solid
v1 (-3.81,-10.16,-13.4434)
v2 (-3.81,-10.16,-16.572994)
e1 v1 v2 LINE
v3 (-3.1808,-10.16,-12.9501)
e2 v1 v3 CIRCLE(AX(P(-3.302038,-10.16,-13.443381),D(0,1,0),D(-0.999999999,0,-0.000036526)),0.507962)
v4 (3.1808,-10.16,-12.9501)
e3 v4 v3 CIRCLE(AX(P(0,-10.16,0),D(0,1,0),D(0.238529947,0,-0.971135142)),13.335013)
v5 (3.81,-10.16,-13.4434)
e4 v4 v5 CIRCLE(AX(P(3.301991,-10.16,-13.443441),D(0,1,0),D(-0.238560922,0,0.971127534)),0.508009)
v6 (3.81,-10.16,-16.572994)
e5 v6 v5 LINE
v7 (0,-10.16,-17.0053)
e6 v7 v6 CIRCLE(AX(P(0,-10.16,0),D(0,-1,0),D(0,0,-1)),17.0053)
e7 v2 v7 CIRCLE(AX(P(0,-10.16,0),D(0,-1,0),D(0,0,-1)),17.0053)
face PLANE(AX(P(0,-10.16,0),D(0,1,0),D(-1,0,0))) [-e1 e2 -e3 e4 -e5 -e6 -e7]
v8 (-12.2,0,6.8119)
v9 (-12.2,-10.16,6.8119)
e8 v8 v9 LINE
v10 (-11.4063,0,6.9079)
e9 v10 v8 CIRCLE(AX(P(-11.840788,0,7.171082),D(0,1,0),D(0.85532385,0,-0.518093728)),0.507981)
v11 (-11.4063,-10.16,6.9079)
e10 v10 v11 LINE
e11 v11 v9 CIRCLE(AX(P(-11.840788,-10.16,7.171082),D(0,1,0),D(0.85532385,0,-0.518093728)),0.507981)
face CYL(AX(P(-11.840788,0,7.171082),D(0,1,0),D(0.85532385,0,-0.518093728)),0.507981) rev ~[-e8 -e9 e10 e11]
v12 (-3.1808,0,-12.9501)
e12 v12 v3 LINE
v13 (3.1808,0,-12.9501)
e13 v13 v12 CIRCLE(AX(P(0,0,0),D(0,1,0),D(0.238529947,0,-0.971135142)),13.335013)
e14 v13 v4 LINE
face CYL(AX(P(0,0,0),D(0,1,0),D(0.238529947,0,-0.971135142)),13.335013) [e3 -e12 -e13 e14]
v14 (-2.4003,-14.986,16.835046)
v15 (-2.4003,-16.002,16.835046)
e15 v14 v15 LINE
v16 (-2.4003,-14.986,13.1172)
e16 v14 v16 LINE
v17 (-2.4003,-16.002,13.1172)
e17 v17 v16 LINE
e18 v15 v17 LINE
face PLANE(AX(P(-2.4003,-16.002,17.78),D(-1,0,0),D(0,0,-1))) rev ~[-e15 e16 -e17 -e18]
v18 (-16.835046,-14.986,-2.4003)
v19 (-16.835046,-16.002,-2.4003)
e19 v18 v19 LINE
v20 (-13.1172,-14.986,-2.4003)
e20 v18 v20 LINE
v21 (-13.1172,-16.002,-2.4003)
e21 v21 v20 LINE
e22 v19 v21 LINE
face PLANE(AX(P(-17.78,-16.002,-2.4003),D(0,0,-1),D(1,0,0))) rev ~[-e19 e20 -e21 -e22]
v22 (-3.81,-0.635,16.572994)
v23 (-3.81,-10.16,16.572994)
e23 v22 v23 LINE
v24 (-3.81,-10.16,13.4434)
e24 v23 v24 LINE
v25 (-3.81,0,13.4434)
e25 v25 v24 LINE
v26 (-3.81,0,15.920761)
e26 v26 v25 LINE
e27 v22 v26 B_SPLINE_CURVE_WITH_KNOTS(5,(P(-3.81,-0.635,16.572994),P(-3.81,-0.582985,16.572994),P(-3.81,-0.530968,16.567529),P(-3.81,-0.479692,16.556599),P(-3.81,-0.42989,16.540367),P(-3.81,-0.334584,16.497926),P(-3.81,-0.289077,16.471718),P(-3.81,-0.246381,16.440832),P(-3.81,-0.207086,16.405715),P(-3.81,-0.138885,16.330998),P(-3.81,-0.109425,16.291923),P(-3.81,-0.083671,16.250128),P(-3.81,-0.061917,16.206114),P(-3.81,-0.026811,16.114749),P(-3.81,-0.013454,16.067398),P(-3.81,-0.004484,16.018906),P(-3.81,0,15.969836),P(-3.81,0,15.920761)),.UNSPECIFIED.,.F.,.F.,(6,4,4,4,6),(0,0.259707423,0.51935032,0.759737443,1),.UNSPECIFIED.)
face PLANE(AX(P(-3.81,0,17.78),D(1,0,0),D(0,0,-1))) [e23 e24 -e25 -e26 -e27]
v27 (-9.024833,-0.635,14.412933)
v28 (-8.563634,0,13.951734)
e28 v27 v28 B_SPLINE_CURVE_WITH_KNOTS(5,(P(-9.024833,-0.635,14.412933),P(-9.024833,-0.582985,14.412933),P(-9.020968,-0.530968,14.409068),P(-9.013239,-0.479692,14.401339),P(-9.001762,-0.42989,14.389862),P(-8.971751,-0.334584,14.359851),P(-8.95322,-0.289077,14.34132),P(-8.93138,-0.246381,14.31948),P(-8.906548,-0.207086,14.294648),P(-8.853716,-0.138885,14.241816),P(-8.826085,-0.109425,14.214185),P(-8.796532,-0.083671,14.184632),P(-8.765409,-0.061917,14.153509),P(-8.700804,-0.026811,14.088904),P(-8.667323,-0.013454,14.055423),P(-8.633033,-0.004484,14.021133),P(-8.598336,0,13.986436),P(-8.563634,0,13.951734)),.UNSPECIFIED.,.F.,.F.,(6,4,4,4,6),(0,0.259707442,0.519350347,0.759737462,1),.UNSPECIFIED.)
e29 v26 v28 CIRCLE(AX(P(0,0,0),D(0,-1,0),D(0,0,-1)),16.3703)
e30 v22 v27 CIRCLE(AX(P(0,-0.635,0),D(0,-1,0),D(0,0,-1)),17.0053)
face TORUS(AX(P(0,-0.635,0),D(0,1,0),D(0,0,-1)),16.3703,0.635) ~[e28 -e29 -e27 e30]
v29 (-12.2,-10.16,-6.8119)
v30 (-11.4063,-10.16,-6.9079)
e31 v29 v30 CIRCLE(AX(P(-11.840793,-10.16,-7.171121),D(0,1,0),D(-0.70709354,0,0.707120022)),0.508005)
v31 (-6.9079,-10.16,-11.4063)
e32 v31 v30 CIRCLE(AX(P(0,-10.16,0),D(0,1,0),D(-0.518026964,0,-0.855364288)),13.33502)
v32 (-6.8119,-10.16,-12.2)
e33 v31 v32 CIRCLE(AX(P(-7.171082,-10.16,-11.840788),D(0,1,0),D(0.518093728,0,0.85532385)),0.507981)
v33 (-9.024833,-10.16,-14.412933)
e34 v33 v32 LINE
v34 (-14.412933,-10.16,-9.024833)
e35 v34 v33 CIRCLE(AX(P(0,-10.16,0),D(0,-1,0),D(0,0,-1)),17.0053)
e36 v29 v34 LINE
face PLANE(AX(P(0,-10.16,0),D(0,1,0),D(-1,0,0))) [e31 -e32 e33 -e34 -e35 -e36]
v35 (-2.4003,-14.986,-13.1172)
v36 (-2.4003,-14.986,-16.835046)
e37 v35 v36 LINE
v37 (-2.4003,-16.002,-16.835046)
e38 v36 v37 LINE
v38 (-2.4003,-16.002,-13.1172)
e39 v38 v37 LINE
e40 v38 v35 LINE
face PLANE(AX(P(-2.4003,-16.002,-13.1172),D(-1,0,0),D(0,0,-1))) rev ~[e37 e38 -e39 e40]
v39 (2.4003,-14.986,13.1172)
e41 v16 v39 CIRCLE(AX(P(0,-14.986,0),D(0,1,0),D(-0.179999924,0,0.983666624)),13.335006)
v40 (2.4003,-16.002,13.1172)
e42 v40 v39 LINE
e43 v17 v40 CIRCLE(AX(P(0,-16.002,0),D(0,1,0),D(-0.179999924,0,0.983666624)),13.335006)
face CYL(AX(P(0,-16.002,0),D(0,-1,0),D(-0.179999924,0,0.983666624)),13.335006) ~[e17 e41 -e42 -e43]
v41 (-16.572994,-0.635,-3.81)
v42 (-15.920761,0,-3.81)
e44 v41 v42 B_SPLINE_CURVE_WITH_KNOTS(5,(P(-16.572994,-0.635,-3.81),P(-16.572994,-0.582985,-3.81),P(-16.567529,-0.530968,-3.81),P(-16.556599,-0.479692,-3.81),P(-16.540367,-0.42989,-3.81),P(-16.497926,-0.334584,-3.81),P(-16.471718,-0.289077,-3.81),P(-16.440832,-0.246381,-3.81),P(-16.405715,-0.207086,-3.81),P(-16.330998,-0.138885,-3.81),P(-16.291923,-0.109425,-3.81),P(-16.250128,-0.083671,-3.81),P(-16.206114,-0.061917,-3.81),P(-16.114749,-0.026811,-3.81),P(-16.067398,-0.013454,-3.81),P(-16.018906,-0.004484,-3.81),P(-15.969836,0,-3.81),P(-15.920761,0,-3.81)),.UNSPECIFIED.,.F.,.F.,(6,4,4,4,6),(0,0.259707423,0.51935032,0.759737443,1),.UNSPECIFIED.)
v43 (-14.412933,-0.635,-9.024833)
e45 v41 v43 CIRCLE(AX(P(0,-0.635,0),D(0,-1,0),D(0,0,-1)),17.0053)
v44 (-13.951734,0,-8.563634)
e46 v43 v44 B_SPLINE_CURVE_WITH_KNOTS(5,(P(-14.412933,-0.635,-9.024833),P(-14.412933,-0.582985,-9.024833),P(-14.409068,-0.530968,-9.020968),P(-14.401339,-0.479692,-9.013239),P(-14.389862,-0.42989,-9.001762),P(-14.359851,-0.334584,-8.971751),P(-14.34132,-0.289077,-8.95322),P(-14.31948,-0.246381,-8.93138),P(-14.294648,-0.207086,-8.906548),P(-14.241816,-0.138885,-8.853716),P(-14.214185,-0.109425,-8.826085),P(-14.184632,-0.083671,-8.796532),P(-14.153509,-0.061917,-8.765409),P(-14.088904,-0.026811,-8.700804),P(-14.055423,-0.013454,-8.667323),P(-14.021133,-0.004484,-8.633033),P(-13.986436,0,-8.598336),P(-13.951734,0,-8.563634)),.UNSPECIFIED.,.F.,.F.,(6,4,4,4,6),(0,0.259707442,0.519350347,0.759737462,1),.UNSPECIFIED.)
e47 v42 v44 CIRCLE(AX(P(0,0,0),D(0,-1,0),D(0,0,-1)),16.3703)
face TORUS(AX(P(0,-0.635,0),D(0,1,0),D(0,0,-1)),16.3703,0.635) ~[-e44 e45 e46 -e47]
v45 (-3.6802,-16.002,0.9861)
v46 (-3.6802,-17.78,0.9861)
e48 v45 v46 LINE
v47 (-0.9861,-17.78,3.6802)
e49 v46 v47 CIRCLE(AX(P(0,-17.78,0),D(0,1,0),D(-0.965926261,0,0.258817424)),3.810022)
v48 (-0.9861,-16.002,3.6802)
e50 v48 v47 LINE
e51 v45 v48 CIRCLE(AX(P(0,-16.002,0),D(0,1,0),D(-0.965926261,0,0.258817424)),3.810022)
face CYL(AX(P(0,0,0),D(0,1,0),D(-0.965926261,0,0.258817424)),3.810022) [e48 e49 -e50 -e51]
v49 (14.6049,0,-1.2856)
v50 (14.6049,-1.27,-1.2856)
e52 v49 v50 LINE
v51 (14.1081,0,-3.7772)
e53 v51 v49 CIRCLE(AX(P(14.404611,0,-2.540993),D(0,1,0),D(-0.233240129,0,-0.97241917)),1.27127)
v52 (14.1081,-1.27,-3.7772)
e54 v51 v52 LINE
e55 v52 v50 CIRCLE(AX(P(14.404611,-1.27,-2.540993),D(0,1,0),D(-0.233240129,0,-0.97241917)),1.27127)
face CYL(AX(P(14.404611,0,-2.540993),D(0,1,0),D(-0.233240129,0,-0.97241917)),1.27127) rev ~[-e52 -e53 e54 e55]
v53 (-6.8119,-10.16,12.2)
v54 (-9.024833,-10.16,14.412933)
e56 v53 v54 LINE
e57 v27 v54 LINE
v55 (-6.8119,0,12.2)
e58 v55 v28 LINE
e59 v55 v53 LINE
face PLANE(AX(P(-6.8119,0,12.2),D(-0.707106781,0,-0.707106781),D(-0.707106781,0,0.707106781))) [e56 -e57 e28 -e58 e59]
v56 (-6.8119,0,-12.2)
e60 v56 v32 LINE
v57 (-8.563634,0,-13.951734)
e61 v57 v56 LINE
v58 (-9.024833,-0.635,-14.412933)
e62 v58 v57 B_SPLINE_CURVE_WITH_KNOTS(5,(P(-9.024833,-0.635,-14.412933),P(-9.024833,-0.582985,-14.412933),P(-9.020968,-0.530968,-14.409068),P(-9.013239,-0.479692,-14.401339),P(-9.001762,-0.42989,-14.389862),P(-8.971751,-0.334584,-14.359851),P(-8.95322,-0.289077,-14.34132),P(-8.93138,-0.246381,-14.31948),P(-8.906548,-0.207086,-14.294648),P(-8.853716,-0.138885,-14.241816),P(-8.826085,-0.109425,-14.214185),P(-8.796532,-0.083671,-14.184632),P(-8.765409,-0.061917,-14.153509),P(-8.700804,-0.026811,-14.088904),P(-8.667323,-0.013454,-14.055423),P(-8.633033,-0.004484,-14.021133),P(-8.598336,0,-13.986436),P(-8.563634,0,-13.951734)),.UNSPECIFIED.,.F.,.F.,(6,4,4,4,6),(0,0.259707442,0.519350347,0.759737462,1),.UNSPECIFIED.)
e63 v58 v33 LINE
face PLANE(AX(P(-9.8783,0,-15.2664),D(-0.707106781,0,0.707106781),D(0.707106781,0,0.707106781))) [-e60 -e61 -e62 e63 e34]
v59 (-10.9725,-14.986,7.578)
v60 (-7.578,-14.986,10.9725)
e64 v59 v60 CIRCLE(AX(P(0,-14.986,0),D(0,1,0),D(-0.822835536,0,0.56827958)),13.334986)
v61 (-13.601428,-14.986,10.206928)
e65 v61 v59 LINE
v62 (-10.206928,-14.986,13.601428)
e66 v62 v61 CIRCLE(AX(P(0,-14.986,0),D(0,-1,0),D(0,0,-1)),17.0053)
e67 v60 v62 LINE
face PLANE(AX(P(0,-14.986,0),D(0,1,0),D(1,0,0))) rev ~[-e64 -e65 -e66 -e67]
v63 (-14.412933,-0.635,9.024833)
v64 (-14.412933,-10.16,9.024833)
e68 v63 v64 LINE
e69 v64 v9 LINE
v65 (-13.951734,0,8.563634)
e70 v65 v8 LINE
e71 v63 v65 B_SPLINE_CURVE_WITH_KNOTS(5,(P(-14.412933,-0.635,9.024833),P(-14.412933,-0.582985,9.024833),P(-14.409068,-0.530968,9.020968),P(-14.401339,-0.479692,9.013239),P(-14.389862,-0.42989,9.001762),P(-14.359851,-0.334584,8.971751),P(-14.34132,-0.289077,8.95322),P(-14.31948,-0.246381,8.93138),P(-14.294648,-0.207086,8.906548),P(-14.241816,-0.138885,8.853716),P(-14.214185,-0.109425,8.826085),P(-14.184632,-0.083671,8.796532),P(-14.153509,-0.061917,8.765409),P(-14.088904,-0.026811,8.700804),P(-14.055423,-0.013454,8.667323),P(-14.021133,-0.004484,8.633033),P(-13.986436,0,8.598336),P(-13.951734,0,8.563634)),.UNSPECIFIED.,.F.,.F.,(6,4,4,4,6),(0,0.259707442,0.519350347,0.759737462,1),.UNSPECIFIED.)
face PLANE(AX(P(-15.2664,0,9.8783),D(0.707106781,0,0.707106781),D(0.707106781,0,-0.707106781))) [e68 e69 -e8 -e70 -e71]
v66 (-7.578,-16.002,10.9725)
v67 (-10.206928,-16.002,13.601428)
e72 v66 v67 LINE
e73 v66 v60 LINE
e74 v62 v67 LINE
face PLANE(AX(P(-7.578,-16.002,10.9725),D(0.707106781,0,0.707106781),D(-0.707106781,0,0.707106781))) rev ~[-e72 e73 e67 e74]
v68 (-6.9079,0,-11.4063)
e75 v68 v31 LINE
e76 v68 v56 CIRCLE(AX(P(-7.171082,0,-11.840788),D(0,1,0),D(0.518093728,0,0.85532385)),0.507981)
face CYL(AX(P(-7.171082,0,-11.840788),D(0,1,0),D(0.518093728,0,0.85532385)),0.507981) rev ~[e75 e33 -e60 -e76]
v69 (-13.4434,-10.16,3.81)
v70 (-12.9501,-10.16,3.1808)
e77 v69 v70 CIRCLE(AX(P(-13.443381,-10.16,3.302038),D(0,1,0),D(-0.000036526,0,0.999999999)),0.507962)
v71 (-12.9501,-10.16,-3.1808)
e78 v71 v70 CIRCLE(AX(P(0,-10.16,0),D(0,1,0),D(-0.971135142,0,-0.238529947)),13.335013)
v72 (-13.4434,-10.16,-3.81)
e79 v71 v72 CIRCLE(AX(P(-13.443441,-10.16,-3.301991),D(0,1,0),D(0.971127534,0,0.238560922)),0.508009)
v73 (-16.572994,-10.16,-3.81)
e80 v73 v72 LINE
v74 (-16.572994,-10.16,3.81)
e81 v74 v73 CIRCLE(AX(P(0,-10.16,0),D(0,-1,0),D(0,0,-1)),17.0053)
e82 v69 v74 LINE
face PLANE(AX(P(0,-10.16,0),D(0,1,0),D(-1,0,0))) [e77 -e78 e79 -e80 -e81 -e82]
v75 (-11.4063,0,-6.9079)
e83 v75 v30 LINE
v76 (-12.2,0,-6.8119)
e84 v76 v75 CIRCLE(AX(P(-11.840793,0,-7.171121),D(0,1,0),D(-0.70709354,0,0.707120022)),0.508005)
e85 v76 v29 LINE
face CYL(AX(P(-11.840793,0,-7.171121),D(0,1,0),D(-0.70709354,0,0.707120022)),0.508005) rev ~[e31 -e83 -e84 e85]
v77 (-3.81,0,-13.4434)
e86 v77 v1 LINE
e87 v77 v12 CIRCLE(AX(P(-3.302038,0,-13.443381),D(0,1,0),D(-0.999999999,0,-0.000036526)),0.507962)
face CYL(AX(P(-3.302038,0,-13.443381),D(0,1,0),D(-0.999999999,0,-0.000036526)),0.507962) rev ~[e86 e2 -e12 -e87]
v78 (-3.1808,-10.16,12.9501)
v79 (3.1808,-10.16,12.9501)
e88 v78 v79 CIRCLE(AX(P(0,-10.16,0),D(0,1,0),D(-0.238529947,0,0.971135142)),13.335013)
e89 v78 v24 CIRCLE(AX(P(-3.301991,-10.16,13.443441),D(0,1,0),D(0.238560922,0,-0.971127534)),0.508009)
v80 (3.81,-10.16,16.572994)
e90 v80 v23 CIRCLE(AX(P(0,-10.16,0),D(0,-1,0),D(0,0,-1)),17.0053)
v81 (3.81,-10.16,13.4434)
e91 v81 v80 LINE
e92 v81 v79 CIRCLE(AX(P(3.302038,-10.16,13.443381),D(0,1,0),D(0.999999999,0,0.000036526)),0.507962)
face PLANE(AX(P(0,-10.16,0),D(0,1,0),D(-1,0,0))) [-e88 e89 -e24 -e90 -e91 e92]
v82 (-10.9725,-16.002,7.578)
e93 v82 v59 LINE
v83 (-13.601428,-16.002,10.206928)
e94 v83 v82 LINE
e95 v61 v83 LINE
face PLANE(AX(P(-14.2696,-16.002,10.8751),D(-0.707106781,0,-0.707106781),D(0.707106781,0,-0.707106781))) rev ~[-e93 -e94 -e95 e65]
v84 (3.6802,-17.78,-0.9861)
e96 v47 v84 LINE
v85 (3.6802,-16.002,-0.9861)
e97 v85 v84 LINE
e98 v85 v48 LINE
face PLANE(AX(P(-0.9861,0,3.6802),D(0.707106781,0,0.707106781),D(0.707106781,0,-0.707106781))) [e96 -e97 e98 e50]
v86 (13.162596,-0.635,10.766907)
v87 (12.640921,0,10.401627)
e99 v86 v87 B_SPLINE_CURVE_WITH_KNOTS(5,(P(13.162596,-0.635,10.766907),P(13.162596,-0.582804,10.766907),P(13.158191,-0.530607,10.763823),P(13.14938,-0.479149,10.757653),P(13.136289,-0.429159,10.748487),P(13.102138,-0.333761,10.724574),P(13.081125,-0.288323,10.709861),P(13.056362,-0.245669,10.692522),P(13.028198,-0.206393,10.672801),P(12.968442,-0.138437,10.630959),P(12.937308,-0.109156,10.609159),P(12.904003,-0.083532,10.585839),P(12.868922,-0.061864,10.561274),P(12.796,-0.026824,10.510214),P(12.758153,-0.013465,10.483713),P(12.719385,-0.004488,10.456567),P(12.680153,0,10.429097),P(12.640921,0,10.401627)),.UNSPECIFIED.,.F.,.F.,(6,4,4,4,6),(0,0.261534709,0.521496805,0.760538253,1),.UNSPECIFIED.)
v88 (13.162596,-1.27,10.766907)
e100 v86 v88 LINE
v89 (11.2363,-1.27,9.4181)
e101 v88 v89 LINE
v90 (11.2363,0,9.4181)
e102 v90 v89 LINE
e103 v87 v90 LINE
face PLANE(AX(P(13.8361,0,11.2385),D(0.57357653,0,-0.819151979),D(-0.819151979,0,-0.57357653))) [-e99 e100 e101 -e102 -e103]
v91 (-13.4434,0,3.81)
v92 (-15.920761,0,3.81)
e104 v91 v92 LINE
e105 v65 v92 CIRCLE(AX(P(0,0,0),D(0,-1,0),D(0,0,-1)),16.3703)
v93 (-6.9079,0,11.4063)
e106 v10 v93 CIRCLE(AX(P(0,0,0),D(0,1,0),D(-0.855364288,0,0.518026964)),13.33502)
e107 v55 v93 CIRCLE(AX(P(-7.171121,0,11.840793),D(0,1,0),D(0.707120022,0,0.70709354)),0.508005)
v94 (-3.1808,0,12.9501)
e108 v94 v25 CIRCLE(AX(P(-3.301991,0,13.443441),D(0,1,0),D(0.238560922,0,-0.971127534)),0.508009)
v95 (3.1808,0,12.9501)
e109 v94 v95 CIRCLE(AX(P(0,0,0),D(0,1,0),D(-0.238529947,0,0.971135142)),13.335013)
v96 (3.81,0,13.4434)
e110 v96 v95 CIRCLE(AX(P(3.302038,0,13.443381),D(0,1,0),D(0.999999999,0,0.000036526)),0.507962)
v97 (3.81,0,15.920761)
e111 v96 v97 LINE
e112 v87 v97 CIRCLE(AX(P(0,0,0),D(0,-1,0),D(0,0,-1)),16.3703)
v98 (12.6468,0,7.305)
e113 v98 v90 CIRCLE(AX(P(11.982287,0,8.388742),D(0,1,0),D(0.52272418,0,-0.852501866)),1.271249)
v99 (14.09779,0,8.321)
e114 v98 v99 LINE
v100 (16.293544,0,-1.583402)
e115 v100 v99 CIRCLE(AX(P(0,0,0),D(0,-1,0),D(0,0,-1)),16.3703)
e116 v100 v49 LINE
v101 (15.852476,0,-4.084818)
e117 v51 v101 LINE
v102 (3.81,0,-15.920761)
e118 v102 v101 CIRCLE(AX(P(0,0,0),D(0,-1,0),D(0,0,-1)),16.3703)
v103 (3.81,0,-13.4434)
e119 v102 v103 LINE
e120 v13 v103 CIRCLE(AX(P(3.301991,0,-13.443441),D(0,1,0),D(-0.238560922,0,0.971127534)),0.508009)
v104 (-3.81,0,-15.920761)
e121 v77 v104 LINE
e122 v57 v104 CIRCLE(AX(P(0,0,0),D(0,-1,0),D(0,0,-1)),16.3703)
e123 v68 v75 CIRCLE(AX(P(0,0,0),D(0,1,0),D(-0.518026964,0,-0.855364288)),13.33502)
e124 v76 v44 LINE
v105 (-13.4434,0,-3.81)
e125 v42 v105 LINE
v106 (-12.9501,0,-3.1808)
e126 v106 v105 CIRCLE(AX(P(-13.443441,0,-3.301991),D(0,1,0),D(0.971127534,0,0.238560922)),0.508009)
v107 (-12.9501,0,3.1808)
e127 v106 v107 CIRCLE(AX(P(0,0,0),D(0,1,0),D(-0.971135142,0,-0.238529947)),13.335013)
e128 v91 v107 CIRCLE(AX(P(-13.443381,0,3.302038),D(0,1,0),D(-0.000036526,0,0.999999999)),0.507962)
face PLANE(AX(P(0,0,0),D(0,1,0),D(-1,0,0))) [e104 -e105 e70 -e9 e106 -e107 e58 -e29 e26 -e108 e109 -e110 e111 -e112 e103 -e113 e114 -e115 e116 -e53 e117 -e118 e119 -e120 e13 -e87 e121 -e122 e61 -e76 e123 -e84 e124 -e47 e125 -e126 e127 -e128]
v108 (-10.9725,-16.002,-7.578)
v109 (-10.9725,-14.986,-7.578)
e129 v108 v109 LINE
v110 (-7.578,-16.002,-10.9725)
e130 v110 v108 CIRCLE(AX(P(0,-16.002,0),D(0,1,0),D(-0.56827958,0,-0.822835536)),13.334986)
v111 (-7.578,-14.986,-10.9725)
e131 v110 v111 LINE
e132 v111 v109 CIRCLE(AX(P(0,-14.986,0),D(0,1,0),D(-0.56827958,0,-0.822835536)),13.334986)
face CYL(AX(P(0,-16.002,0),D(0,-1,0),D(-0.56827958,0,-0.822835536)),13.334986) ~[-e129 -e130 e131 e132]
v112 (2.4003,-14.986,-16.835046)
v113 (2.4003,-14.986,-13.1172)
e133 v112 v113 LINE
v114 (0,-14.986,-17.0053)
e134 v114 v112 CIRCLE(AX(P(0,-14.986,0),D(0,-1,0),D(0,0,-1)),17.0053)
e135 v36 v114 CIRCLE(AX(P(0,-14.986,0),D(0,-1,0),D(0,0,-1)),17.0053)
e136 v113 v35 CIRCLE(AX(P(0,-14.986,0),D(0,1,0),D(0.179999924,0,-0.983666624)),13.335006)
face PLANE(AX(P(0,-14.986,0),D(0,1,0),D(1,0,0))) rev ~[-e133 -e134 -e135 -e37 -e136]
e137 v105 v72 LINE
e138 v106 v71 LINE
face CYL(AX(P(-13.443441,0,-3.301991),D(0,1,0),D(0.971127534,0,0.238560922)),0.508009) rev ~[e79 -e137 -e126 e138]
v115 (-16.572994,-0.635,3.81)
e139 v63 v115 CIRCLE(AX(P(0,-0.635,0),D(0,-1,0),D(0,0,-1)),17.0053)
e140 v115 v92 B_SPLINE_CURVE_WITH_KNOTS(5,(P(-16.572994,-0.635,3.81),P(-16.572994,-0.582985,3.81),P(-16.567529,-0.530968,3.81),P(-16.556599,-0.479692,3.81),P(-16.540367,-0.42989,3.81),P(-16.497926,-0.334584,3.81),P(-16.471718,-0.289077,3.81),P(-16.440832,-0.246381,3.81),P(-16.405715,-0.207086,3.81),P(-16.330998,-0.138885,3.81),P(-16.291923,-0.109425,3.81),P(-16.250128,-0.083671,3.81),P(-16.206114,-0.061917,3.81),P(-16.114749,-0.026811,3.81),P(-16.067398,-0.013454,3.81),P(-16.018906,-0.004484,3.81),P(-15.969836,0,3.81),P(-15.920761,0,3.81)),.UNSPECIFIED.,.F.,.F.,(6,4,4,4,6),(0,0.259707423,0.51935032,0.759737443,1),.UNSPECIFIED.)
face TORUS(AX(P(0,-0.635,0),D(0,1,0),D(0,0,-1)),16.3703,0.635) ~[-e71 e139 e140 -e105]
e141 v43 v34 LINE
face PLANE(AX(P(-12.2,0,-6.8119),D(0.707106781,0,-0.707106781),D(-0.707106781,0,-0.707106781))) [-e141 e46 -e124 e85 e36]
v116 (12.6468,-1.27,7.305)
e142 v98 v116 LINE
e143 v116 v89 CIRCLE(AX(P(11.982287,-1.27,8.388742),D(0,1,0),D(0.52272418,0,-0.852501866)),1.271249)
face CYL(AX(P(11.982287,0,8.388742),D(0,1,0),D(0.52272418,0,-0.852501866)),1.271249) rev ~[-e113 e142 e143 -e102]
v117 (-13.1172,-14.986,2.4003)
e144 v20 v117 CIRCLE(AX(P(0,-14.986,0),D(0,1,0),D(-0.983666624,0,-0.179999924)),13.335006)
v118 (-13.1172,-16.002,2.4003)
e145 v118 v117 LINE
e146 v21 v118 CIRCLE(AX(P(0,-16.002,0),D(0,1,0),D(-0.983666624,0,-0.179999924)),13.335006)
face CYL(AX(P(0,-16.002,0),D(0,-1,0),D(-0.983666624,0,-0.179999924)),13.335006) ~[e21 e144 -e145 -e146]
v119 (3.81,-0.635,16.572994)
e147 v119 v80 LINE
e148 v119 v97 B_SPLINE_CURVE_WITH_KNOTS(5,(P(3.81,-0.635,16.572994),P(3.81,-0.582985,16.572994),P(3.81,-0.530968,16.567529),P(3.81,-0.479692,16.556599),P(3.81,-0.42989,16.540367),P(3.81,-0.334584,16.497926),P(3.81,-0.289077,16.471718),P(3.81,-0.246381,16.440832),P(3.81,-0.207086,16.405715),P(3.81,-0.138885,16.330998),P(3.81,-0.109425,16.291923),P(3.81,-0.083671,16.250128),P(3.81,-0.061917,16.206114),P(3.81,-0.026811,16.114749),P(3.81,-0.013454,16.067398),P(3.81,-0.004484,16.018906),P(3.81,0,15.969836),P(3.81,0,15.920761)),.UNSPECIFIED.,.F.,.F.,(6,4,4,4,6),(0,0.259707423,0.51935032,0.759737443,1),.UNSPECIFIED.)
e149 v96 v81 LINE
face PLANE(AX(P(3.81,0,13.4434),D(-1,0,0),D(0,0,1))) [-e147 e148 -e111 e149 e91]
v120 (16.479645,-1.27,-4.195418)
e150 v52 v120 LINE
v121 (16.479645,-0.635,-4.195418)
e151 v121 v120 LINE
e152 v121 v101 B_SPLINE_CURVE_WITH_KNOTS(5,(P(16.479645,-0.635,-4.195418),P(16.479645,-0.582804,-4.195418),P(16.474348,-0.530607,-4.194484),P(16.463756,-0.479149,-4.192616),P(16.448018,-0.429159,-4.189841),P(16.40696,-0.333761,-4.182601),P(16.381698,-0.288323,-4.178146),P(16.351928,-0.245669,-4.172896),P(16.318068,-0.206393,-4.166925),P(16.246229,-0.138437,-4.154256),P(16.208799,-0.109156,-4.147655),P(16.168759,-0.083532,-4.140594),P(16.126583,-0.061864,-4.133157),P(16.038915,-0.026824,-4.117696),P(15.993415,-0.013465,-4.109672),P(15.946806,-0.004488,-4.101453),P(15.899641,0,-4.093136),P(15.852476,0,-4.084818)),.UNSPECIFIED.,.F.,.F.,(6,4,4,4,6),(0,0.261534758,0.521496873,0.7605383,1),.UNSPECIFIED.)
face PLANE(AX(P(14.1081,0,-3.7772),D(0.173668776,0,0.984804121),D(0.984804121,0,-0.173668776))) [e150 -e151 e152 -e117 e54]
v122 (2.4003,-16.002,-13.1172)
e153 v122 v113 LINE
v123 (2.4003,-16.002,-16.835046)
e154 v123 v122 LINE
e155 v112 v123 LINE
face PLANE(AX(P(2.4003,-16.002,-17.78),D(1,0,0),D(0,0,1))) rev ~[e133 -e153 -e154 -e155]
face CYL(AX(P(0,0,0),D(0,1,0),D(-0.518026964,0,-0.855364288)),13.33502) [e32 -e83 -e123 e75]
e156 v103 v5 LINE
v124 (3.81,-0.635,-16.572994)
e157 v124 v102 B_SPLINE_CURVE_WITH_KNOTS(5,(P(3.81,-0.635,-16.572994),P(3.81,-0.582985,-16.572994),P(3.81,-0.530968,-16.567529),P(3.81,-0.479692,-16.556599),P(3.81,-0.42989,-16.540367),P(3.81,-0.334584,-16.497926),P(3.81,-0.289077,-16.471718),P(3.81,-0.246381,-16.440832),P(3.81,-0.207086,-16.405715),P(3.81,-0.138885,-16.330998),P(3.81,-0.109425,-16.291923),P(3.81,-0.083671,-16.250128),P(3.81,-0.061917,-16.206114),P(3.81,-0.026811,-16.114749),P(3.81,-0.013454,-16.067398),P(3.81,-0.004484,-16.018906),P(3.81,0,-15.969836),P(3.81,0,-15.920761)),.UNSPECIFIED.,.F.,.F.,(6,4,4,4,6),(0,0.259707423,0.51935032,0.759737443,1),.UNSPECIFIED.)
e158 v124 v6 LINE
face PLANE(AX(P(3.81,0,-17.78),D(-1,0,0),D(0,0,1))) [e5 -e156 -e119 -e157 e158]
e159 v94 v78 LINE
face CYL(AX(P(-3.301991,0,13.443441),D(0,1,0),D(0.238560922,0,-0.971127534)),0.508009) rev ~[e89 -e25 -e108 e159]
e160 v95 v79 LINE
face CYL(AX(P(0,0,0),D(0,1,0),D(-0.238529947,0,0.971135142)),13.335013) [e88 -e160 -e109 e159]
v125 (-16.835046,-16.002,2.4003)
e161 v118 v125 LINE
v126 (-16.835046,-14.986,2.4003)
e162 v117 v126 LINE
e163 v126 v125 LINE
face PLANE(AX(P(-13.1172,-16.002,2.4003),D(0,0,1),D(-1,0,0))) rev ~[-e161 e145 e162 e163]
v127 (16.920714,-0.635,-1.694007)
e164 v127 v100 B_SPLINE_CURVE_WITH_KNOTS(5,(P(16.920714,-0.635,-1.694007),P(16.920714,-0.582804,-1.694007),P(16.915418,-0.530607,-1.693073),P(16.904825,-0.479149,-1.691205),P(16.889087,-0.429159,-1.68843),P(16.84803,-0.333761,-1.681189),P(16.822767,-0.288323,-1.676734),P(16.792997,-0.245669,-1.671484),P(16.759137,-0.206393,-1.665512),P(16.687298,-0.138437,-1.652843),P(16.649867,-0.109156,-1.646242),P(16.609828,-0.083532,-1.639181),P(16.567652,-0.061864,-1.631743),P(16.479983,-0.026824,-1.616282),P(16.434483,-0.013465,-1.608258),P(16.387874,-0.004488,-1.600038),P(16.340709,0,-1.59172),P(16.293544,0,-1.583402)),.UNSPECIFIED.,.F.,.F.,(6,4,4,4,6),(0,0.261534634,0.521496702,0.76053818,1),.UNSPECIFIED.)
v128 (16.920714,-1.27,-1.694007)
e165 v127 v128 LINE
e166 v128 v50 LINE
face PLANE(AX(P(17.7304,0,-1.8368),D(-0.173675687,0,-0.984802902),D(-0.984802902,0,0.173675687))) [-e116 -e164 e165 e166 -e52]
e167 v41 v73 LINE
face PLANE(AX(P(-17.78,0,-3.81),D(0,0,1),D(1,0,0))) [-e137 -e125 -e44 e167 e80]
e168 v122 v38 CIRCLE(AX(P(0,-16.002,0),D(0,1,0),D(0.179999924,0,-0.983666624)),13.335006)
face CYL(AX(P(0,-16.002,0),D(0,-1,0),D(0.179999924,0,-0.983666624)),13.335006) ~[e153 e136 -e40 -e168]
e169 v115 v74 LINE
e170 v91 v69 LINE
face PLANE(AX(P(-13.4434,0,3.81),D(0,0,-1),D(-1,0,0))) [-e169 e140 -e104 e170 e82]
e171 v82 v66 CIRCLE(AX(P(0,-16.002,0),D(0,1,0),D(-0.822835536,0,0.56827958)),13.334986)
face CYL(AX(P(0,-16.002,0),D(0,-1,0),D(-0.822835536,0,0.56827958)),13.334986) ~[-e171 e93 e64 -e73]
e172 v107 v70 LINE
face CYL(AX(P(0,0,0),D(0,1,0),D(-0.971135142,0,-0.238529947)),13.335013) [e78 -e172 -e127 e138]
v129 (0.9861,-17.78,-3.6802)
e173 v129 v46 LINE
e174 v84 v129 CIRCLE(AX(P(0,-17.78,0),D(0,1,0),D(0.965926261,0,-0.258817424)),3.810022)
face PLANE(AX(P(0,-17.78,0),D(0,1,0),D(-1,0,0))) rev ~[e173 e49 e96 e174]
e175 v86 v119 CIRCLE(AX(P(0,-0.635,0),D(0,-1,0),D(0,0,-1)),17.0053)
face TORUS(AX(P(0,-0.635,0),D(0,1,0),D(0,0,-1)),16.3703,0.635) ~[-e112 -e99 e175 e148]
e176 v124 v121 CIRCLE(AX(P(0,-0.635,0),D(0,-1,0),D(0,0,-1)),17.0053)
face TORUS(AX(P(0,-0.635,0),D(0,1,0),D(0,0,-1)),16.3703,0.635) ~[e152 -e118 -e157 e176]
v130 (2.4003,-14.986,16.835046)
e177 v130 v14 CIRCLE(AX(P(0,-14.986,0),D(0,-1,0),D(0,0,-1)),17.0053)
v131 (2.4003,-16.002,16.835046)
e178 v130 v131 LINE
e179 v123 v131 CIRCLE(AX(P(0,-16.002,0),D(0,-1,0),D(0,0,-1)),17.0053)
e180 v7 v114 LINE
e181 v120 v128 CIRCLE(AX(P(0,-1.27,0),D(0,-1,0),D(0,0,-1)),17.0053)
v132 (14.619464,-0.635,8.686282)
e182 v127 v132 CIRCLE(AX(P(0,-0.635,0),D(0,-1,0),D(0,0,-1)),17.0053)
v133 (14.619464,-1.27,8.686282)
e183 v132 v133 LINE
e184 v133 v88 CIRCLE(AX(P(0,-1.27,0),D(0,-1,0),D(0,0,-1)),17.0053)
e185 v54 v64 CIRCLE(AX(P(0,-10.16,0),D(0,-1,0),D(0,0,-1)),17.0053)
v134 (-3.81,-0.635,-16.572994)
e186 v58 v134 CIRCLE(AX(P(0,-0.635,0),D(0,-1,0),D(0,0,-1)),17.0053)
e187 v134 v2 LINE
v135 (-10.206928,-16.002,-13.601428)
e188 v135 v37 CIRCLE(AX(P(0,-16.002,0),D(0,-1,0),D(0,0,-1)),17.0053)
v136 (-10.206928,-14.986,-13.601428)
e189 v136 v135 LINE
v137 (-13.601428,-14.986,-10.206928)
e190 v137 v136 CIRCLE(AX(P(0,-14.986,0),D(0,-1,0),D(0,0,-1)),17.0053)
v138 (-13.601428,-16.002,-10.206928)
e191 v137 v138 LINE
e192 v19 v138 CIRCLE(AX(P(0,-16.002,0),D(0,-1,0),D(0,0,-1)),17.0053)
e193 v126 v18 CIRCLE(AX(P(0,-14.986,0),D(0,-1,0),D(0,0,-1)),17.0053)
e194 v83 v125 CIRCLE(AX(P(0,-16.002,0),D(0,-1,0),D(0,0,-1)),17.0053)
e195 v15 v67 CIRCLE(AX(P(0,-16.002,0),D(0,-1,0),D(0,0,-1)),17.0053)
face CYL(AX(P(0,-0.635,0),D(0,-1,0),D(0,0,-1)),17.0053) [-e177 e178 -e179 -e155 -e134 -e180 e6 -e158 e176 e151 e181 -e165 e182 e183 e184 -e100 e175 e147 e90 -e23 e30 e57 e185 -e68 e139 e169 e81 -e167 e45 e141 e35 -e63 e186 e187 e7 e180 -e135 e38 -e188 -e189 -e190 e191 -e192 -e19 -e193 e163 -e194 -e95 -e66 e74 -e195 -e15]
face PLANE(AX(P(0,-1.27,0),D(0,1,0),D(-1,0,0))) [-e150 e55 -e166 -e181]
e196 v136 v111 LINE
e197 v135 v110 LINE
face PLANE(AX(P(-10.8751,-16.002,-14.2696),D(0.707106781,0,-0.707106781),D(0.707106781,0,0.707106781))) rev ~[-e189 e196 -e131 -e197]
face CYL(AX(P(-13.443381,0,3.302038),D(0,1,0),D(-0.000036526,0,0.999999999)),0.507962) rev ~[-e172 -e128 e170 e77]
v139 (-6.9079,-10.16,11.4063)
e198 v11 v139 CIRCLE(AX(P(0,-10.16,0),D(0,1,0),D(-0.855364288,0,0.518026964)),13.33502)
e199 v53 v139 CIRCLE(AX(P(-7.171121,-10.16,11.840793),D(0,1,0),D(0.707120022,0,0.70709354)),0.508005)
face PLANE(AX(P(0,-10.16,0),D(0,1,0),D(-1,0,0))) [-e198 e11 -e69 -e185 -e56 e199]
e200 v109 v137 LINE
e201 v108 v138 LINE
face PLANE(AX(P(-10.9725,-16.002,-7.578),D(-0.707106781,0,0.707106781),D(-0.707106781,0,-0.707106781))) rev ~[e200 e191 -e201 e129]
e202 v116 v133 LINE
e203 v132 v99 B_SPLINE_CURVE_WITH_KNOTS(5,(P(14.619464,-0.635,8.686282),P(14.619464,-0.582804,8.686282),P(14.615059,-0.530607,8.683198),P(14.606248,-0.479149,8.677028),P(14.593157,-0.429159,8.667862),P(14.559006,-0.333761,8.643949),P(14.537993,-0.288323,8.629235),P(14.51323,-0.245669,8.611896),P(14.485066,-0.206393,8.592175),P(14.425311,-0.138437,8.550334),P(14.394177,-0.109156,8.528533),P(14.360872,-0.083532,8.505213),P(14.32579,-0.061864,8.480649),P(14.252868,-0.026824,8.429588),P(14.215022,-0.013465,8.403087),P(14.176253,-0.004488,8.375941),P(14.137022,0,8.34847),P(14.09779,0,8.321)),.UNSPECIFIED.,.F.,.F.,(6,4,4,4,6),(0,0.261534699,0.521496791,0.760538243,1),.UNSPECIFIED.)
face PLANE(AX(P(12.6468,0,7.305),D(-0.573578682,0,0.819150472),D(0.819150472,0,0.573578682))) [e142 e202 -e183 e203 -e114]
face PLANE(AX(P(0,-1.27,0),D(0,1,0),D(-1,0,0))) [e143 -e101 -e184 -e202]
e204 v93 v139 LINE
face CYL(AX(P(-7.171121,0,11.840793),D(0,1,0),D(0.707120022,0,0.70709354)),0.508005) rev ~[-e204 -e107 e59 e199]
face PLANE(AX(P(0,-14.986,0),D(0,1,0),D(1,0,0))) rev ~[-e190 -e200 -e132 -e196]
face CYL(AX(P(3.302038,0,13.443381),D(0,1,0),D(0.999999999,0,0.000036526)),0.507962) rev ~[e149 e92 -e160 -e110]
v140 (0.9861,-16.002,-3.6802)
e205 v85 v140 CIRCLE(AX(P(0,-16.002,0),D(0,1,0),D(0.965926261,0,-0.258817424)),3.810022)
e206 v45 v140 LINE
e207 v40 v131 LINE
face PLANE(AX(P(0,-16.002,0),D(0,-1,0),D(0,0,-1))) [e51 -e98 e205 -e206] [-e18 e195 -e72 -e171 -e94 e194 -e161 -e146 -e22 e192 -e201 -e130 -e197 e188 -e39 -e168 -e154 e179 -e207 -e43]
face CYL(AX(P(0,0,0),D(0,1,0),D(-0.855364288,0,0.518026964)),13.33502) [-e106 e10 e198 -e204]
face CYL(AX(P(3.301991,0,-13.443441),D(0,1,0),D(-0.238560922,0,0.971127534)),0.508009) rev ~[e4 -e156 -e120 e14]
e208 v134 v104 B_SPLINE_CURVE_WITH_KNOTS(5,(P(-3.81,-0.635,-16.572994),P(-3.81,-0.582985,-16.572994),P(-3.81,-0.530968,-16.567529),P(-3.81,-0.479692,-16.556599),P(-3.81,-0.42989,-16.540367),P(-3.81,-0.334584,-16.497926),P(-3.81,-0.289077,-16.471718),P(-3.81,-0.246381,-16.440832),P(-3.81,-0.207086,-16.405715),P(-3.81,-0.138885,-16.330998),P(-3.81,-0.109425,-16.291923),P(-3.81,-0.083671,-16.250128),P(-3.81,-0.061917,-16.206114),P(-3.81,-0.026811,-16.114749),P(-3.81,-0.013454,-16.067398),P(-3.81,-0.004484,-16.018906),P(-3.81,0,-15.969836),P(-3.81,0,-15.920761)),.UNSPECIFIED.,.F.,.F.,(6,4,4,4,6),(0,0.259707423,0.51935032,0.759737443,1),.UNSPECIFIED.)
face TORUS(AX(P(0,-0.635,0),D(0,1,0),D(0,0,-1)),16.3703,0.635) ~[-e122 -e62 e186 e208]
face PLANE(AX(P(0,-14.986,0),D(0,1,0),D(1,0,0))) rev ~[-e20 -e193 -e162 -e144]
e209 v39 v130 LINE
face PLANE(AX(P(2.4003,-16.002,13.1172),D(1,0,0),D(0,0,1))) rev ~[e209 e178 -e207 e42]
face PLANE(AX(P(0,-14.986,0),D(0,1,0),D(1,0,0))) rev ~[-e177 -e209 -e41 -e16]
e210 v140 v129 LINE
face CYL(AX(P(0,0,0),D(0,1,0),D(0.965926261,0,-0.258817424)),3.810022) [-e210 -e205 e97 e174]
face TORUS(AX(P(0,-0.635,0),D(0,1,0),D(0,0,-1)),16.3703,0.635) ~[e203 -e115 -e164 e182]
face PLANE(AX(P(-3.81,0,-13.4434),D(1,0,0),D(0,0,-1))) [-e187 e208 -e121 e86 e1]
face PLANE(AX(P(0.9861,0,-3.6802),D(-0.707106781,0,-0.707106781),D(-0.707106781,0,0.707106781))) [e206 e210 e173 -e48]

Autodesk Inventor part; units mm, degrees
sketch "Sketch_1" plane through (0, 0, 0) normal (1, 0, 0) x (0, 1, 0)
  line L0 (-16.002, 0) -> (0, 0)
  line L1 (0, 0) -> (0, -16.3703)
  arc A0 (-0.635, -17.0053) -> (0, -16.3703) centre (-0.635, -16.3703) ccw
  line L2 (-0.635, -17.0053) -> (-16.002, -17.0053)
  line L3 (-16.002, -17.0053) -> (-16.002, 0)
  line L4 (-16.002, 0) -> (0, 0)
revolve "Revolution1" add sketch "Sketch_1" angle 360 about axis through (0, -16.002, 0) along (0, -1, 0)
sketch "Sketch_2" plane through (0, 0, 0) normal (0, 1, 0) x (-1, 0, 0)
  circle A0 centre (0, 0) radius 21.59
  line L0 (17.78, -3.81) -> (13.4434, -3.81)
  arc A1 (12.9501, -3.1808) -> (13.4434, -3.81) centre (13.4434, -3.302) ccw
  arc A2 (12.9501, -3.1808) -> (12.9501, 3.1808) centre (0, 0) ccw
  arc A3 (13.4434, 3.81) -> (12.9501, 3.1808) centre (13.4434, 3.302) ccw
  line L1 (13.4434, 3.81) -> (17.78, 3.81)
  arc A4 (17.78, 3.81) -> (15.2664, 9.8783) centre (0, 0) ccw
  line L2 (15.2664, 9.8783) -> (12.2, 6.8119)
  arc A5 (11.4063, 6.9079) -> (12.2, 6.8119) centre (11.8408, 7.1711) ccw
  arc A6 (11.4063, 6.9079) -> (6.9079, 11.4063) centre (0, 0) ccw
  arc A7 (6.8119, 12.2) -> (6.9079, 11.4063) centre (7.1711, 11.8408) ccw
  line L3 (6.8119, 12.2) -> (9.8783, 15.2664)
  arc A8 (9.8783, 15.2664) -> (3.81, 17.78) centre (0, 0) ccw
  line L4 (3.81, 17.78) -> (3.81, 13.4434)
  arc A9 (3.1808, 12.9501) -> (3.81, 13.4434) centre (3.302, 13.4434) ccw
  arc A10 (3.1808, 12.9501) -> (-3.1808, 12.9501) centre (0, 0) ccw
  arc A11 (-3.81, 13.4434) -> (-3.1808, 12.9501) centre (-3.302, 13.4434) ccw
  line L5 (-3.81, 13.4434) -> (-3.81, 17.78)
  arc A12 (-3.81, 17.78) -> (-3.81, -17.78) centre (0, 0) ccw
  line L6 (-3.81, -17.78) -> (-3.81, -13.4434)
  arc A13 (-3.1808, -12.9501) -> (-3.81, -13.4434) centre (-3.302, -13.4434) ccw
  arc A14 (-3.1808, -12.9501) -> (3.1808, -12.9501) centre (0, 0) ccw
  arc A15 (3.81, -13.4434) -> (3.1808, -12.9501) centre (3.302, -13.4434) ccw
  line L7 (3.81, -13.4434) -> (3.81, -17.78)
  arc A16 (3.81, -17.78) -> (9.8783, -15.2664) centre (0, 0) ccw
  line L8 (9.8783, -15.2664) -> (6.8119, -12.2)
  arc A17 (6.9079, -11.4063) -> (6.8119, -12.2) centre (7.1711, -11.8408) ccw
  arc A18 (6.9079, -11.4063) -> (11.4063, -6.9079) centre (0, 0) ccw
  arc A19 (12.2, -6.8119) -> (11.4063, -6.9079) centre (11.8408, -7.1711) ccw
  line L9 (12.2, -6.8119) -> (15.2664, -9.8783)
  arc A20 (15.2664, -9.8783) -> (17.78, -3.81) centre (0, 0) ccw
extrude "Extrusion1" cut sketch "Sketch_2" against normal blind 10.16
sketch "Sketch_3" plane through (0, 0, 0) normal (0, 1, 0) x (-1, 0, 0)
  circle A0 centre (0, 0) radius 20.4599
  arc A1 (-17.2893, -4.3382) -> (-13.8361, 11.2385) centre (0, 0) ccw
  line L0 (-13.8361, 11.2385) -> (-11.2363, 9.4181)
  arc A2 (-12.6468, 7.305) -> (-11.2363, 9.4181) centre (-11.9823, 8.3888) ccw
  line L1 (-12.6468, 7.305) -> (-15.293, 9.1579)
  arc A3 (-15.293, 9.1579) -> (-17.7304, -1.8368) centre (0, 0) ccw
  line L2 (-17.7304, -1.8368) -> (-14.6049, -1.2856)
  arc A4 (-14.1081, -3.7772) -> (-14.6049, -1.2856) centre (-14.4046, -2.541) ccw
  line L3 (-14.1081, -3.7772) -> (-17.2893, -4.3382)
extrude "Extrusion2" cut sketch "Sketch_3" against normal blind 1.27
sketch "Sketch_4" plane through (0, -16.002, 0) normal (0, 1, 0) x (1, 0, 0)
  circle A0 centre (0, 0) radius 21.59
  line L0 (-17.78, 2.4003) -> (-13.1172, 2.4003)
  arc A1 (-13.1172, 2.4003) -> (-13.1172, -2.4003) centre (0, 0) ccw
  line L1 (-13.1172, -2.4003) -> (-17.78, -2.4003)
  arc A2 (-17.78, -2.4003) -> (-14.2696, -10.8751) centre (0, 0) ccw
  line L2 (-14.2696, -10.8751) -> (-10.9725, -7.578)
  arc A3 (-10.9725, -7.578) -> (-7.578, -10.9725) centre (0, 0) ccw
  line L3 (-7.578, -10.9725) -> (-10.8751, -14.2696)
  arc A4 (-10.8751, -14.2696) -> (-2.4003, -17.78) centre (0, 0) ccw
  line L4 (-2.4003, -17.78) -> (-2.4003, -13.1172)
  arc A5 (-2.4003, -13.1172) -> (2.4003, -13.1172) centre (0, 0) ccw
  line L5 (2.4003, -13.1172) -> (2.4003, -17.78)
  arc A6 (2.4003, -17.78) -> (2.4003, 17.78) centre (0, 0) ccw
  line L6 (2.4003, 17.78) -> (2.4003, 13.1172)
  arc A7 (2.4003, 13.1172) -> (-2.4003, 13.1172) centre (0, 0) ccw
  line L7 (-2.4003, 13.1172) -> (-2.4003, 17.78)
  arc A8 (-2.4003, 17.78) -> (-10.8751, 14.2696) centre (0, 0) ccw
  line L8 (-10.8751, 14.2696) -> (-7.578, 10.9725)
  arc A9 (-7.578, 10.9725) -> (-10.9725, 7.578) centre (0, 0) ccw
  line L9 (-10.9725, 7.578) -> (-14.2696, 10.8751)
  arc A10 (-14.2696, 10.8751) -> (-17.78, 2.4003) centre (0, 0) ccw
extrude "Extrusion3" cut sketch "Sketch_4" along normal blind 1.016
sketch "Sketch_8" plane through (0, 0, 0) normal (0, 1, 0) x (-1, 0, 0)
  arc A0 (3.6802, 0.9861) -> (0.9861, 3.6802) centre (0, 0) ccw
  line L0 (0.9861, 3.6802) -> (-3.6802, -0.9861)
  arc A1 (-3.6802, -0.9861) -> (-0.9861, -3.6802) centre (0, 0) ccw
  line L1 (-0.9861, -3.6802) -> (3.6802, 0.9861)
extrude "Extrusion4" add sketch "Sketch_8" against normal blind 17.78
ref_plane "to_dummy_XY" through (0, 0, 0) normal (0, -1, 0) x (1, 0, 0)
ref_plane "to_dummy_YZ" through (0, 0, 0) normal (1, 0, 0) x (0, 0, 1)
ref_plane "to_dummy_ZX" through (0, 0, 0) normal (0, 0, 1) x (0, -1, 0)
ref_plane "to_shaft_XY" through (0, 0, 0) normal (0, -1, 0) x (1, 0, 0)
ref_plane "to_shaft_YZ" through (0, 0, 0) normal (1, 0, 0) x (0, 0, 1)
ref_plane "to_shaft_ZX" through (0, 0, 0) normal (0, 0, 1) x (0, -1, 0)
ref_plane "to_trmnls_XY" through (0, -14.986, 0) normal (0, 1, 0) x (1, 0, 0)
ref_plane "to_trmnls_YZ" through (0, -14.986, 0) normal (1, 0, 0) x (0, 0, -1)
ref_plane "to_trmnls_ZX" through (0, -14.986, 0) normal (0, 0, -1) x (0, 1, 0)
properties part number "HS13Z-body"
